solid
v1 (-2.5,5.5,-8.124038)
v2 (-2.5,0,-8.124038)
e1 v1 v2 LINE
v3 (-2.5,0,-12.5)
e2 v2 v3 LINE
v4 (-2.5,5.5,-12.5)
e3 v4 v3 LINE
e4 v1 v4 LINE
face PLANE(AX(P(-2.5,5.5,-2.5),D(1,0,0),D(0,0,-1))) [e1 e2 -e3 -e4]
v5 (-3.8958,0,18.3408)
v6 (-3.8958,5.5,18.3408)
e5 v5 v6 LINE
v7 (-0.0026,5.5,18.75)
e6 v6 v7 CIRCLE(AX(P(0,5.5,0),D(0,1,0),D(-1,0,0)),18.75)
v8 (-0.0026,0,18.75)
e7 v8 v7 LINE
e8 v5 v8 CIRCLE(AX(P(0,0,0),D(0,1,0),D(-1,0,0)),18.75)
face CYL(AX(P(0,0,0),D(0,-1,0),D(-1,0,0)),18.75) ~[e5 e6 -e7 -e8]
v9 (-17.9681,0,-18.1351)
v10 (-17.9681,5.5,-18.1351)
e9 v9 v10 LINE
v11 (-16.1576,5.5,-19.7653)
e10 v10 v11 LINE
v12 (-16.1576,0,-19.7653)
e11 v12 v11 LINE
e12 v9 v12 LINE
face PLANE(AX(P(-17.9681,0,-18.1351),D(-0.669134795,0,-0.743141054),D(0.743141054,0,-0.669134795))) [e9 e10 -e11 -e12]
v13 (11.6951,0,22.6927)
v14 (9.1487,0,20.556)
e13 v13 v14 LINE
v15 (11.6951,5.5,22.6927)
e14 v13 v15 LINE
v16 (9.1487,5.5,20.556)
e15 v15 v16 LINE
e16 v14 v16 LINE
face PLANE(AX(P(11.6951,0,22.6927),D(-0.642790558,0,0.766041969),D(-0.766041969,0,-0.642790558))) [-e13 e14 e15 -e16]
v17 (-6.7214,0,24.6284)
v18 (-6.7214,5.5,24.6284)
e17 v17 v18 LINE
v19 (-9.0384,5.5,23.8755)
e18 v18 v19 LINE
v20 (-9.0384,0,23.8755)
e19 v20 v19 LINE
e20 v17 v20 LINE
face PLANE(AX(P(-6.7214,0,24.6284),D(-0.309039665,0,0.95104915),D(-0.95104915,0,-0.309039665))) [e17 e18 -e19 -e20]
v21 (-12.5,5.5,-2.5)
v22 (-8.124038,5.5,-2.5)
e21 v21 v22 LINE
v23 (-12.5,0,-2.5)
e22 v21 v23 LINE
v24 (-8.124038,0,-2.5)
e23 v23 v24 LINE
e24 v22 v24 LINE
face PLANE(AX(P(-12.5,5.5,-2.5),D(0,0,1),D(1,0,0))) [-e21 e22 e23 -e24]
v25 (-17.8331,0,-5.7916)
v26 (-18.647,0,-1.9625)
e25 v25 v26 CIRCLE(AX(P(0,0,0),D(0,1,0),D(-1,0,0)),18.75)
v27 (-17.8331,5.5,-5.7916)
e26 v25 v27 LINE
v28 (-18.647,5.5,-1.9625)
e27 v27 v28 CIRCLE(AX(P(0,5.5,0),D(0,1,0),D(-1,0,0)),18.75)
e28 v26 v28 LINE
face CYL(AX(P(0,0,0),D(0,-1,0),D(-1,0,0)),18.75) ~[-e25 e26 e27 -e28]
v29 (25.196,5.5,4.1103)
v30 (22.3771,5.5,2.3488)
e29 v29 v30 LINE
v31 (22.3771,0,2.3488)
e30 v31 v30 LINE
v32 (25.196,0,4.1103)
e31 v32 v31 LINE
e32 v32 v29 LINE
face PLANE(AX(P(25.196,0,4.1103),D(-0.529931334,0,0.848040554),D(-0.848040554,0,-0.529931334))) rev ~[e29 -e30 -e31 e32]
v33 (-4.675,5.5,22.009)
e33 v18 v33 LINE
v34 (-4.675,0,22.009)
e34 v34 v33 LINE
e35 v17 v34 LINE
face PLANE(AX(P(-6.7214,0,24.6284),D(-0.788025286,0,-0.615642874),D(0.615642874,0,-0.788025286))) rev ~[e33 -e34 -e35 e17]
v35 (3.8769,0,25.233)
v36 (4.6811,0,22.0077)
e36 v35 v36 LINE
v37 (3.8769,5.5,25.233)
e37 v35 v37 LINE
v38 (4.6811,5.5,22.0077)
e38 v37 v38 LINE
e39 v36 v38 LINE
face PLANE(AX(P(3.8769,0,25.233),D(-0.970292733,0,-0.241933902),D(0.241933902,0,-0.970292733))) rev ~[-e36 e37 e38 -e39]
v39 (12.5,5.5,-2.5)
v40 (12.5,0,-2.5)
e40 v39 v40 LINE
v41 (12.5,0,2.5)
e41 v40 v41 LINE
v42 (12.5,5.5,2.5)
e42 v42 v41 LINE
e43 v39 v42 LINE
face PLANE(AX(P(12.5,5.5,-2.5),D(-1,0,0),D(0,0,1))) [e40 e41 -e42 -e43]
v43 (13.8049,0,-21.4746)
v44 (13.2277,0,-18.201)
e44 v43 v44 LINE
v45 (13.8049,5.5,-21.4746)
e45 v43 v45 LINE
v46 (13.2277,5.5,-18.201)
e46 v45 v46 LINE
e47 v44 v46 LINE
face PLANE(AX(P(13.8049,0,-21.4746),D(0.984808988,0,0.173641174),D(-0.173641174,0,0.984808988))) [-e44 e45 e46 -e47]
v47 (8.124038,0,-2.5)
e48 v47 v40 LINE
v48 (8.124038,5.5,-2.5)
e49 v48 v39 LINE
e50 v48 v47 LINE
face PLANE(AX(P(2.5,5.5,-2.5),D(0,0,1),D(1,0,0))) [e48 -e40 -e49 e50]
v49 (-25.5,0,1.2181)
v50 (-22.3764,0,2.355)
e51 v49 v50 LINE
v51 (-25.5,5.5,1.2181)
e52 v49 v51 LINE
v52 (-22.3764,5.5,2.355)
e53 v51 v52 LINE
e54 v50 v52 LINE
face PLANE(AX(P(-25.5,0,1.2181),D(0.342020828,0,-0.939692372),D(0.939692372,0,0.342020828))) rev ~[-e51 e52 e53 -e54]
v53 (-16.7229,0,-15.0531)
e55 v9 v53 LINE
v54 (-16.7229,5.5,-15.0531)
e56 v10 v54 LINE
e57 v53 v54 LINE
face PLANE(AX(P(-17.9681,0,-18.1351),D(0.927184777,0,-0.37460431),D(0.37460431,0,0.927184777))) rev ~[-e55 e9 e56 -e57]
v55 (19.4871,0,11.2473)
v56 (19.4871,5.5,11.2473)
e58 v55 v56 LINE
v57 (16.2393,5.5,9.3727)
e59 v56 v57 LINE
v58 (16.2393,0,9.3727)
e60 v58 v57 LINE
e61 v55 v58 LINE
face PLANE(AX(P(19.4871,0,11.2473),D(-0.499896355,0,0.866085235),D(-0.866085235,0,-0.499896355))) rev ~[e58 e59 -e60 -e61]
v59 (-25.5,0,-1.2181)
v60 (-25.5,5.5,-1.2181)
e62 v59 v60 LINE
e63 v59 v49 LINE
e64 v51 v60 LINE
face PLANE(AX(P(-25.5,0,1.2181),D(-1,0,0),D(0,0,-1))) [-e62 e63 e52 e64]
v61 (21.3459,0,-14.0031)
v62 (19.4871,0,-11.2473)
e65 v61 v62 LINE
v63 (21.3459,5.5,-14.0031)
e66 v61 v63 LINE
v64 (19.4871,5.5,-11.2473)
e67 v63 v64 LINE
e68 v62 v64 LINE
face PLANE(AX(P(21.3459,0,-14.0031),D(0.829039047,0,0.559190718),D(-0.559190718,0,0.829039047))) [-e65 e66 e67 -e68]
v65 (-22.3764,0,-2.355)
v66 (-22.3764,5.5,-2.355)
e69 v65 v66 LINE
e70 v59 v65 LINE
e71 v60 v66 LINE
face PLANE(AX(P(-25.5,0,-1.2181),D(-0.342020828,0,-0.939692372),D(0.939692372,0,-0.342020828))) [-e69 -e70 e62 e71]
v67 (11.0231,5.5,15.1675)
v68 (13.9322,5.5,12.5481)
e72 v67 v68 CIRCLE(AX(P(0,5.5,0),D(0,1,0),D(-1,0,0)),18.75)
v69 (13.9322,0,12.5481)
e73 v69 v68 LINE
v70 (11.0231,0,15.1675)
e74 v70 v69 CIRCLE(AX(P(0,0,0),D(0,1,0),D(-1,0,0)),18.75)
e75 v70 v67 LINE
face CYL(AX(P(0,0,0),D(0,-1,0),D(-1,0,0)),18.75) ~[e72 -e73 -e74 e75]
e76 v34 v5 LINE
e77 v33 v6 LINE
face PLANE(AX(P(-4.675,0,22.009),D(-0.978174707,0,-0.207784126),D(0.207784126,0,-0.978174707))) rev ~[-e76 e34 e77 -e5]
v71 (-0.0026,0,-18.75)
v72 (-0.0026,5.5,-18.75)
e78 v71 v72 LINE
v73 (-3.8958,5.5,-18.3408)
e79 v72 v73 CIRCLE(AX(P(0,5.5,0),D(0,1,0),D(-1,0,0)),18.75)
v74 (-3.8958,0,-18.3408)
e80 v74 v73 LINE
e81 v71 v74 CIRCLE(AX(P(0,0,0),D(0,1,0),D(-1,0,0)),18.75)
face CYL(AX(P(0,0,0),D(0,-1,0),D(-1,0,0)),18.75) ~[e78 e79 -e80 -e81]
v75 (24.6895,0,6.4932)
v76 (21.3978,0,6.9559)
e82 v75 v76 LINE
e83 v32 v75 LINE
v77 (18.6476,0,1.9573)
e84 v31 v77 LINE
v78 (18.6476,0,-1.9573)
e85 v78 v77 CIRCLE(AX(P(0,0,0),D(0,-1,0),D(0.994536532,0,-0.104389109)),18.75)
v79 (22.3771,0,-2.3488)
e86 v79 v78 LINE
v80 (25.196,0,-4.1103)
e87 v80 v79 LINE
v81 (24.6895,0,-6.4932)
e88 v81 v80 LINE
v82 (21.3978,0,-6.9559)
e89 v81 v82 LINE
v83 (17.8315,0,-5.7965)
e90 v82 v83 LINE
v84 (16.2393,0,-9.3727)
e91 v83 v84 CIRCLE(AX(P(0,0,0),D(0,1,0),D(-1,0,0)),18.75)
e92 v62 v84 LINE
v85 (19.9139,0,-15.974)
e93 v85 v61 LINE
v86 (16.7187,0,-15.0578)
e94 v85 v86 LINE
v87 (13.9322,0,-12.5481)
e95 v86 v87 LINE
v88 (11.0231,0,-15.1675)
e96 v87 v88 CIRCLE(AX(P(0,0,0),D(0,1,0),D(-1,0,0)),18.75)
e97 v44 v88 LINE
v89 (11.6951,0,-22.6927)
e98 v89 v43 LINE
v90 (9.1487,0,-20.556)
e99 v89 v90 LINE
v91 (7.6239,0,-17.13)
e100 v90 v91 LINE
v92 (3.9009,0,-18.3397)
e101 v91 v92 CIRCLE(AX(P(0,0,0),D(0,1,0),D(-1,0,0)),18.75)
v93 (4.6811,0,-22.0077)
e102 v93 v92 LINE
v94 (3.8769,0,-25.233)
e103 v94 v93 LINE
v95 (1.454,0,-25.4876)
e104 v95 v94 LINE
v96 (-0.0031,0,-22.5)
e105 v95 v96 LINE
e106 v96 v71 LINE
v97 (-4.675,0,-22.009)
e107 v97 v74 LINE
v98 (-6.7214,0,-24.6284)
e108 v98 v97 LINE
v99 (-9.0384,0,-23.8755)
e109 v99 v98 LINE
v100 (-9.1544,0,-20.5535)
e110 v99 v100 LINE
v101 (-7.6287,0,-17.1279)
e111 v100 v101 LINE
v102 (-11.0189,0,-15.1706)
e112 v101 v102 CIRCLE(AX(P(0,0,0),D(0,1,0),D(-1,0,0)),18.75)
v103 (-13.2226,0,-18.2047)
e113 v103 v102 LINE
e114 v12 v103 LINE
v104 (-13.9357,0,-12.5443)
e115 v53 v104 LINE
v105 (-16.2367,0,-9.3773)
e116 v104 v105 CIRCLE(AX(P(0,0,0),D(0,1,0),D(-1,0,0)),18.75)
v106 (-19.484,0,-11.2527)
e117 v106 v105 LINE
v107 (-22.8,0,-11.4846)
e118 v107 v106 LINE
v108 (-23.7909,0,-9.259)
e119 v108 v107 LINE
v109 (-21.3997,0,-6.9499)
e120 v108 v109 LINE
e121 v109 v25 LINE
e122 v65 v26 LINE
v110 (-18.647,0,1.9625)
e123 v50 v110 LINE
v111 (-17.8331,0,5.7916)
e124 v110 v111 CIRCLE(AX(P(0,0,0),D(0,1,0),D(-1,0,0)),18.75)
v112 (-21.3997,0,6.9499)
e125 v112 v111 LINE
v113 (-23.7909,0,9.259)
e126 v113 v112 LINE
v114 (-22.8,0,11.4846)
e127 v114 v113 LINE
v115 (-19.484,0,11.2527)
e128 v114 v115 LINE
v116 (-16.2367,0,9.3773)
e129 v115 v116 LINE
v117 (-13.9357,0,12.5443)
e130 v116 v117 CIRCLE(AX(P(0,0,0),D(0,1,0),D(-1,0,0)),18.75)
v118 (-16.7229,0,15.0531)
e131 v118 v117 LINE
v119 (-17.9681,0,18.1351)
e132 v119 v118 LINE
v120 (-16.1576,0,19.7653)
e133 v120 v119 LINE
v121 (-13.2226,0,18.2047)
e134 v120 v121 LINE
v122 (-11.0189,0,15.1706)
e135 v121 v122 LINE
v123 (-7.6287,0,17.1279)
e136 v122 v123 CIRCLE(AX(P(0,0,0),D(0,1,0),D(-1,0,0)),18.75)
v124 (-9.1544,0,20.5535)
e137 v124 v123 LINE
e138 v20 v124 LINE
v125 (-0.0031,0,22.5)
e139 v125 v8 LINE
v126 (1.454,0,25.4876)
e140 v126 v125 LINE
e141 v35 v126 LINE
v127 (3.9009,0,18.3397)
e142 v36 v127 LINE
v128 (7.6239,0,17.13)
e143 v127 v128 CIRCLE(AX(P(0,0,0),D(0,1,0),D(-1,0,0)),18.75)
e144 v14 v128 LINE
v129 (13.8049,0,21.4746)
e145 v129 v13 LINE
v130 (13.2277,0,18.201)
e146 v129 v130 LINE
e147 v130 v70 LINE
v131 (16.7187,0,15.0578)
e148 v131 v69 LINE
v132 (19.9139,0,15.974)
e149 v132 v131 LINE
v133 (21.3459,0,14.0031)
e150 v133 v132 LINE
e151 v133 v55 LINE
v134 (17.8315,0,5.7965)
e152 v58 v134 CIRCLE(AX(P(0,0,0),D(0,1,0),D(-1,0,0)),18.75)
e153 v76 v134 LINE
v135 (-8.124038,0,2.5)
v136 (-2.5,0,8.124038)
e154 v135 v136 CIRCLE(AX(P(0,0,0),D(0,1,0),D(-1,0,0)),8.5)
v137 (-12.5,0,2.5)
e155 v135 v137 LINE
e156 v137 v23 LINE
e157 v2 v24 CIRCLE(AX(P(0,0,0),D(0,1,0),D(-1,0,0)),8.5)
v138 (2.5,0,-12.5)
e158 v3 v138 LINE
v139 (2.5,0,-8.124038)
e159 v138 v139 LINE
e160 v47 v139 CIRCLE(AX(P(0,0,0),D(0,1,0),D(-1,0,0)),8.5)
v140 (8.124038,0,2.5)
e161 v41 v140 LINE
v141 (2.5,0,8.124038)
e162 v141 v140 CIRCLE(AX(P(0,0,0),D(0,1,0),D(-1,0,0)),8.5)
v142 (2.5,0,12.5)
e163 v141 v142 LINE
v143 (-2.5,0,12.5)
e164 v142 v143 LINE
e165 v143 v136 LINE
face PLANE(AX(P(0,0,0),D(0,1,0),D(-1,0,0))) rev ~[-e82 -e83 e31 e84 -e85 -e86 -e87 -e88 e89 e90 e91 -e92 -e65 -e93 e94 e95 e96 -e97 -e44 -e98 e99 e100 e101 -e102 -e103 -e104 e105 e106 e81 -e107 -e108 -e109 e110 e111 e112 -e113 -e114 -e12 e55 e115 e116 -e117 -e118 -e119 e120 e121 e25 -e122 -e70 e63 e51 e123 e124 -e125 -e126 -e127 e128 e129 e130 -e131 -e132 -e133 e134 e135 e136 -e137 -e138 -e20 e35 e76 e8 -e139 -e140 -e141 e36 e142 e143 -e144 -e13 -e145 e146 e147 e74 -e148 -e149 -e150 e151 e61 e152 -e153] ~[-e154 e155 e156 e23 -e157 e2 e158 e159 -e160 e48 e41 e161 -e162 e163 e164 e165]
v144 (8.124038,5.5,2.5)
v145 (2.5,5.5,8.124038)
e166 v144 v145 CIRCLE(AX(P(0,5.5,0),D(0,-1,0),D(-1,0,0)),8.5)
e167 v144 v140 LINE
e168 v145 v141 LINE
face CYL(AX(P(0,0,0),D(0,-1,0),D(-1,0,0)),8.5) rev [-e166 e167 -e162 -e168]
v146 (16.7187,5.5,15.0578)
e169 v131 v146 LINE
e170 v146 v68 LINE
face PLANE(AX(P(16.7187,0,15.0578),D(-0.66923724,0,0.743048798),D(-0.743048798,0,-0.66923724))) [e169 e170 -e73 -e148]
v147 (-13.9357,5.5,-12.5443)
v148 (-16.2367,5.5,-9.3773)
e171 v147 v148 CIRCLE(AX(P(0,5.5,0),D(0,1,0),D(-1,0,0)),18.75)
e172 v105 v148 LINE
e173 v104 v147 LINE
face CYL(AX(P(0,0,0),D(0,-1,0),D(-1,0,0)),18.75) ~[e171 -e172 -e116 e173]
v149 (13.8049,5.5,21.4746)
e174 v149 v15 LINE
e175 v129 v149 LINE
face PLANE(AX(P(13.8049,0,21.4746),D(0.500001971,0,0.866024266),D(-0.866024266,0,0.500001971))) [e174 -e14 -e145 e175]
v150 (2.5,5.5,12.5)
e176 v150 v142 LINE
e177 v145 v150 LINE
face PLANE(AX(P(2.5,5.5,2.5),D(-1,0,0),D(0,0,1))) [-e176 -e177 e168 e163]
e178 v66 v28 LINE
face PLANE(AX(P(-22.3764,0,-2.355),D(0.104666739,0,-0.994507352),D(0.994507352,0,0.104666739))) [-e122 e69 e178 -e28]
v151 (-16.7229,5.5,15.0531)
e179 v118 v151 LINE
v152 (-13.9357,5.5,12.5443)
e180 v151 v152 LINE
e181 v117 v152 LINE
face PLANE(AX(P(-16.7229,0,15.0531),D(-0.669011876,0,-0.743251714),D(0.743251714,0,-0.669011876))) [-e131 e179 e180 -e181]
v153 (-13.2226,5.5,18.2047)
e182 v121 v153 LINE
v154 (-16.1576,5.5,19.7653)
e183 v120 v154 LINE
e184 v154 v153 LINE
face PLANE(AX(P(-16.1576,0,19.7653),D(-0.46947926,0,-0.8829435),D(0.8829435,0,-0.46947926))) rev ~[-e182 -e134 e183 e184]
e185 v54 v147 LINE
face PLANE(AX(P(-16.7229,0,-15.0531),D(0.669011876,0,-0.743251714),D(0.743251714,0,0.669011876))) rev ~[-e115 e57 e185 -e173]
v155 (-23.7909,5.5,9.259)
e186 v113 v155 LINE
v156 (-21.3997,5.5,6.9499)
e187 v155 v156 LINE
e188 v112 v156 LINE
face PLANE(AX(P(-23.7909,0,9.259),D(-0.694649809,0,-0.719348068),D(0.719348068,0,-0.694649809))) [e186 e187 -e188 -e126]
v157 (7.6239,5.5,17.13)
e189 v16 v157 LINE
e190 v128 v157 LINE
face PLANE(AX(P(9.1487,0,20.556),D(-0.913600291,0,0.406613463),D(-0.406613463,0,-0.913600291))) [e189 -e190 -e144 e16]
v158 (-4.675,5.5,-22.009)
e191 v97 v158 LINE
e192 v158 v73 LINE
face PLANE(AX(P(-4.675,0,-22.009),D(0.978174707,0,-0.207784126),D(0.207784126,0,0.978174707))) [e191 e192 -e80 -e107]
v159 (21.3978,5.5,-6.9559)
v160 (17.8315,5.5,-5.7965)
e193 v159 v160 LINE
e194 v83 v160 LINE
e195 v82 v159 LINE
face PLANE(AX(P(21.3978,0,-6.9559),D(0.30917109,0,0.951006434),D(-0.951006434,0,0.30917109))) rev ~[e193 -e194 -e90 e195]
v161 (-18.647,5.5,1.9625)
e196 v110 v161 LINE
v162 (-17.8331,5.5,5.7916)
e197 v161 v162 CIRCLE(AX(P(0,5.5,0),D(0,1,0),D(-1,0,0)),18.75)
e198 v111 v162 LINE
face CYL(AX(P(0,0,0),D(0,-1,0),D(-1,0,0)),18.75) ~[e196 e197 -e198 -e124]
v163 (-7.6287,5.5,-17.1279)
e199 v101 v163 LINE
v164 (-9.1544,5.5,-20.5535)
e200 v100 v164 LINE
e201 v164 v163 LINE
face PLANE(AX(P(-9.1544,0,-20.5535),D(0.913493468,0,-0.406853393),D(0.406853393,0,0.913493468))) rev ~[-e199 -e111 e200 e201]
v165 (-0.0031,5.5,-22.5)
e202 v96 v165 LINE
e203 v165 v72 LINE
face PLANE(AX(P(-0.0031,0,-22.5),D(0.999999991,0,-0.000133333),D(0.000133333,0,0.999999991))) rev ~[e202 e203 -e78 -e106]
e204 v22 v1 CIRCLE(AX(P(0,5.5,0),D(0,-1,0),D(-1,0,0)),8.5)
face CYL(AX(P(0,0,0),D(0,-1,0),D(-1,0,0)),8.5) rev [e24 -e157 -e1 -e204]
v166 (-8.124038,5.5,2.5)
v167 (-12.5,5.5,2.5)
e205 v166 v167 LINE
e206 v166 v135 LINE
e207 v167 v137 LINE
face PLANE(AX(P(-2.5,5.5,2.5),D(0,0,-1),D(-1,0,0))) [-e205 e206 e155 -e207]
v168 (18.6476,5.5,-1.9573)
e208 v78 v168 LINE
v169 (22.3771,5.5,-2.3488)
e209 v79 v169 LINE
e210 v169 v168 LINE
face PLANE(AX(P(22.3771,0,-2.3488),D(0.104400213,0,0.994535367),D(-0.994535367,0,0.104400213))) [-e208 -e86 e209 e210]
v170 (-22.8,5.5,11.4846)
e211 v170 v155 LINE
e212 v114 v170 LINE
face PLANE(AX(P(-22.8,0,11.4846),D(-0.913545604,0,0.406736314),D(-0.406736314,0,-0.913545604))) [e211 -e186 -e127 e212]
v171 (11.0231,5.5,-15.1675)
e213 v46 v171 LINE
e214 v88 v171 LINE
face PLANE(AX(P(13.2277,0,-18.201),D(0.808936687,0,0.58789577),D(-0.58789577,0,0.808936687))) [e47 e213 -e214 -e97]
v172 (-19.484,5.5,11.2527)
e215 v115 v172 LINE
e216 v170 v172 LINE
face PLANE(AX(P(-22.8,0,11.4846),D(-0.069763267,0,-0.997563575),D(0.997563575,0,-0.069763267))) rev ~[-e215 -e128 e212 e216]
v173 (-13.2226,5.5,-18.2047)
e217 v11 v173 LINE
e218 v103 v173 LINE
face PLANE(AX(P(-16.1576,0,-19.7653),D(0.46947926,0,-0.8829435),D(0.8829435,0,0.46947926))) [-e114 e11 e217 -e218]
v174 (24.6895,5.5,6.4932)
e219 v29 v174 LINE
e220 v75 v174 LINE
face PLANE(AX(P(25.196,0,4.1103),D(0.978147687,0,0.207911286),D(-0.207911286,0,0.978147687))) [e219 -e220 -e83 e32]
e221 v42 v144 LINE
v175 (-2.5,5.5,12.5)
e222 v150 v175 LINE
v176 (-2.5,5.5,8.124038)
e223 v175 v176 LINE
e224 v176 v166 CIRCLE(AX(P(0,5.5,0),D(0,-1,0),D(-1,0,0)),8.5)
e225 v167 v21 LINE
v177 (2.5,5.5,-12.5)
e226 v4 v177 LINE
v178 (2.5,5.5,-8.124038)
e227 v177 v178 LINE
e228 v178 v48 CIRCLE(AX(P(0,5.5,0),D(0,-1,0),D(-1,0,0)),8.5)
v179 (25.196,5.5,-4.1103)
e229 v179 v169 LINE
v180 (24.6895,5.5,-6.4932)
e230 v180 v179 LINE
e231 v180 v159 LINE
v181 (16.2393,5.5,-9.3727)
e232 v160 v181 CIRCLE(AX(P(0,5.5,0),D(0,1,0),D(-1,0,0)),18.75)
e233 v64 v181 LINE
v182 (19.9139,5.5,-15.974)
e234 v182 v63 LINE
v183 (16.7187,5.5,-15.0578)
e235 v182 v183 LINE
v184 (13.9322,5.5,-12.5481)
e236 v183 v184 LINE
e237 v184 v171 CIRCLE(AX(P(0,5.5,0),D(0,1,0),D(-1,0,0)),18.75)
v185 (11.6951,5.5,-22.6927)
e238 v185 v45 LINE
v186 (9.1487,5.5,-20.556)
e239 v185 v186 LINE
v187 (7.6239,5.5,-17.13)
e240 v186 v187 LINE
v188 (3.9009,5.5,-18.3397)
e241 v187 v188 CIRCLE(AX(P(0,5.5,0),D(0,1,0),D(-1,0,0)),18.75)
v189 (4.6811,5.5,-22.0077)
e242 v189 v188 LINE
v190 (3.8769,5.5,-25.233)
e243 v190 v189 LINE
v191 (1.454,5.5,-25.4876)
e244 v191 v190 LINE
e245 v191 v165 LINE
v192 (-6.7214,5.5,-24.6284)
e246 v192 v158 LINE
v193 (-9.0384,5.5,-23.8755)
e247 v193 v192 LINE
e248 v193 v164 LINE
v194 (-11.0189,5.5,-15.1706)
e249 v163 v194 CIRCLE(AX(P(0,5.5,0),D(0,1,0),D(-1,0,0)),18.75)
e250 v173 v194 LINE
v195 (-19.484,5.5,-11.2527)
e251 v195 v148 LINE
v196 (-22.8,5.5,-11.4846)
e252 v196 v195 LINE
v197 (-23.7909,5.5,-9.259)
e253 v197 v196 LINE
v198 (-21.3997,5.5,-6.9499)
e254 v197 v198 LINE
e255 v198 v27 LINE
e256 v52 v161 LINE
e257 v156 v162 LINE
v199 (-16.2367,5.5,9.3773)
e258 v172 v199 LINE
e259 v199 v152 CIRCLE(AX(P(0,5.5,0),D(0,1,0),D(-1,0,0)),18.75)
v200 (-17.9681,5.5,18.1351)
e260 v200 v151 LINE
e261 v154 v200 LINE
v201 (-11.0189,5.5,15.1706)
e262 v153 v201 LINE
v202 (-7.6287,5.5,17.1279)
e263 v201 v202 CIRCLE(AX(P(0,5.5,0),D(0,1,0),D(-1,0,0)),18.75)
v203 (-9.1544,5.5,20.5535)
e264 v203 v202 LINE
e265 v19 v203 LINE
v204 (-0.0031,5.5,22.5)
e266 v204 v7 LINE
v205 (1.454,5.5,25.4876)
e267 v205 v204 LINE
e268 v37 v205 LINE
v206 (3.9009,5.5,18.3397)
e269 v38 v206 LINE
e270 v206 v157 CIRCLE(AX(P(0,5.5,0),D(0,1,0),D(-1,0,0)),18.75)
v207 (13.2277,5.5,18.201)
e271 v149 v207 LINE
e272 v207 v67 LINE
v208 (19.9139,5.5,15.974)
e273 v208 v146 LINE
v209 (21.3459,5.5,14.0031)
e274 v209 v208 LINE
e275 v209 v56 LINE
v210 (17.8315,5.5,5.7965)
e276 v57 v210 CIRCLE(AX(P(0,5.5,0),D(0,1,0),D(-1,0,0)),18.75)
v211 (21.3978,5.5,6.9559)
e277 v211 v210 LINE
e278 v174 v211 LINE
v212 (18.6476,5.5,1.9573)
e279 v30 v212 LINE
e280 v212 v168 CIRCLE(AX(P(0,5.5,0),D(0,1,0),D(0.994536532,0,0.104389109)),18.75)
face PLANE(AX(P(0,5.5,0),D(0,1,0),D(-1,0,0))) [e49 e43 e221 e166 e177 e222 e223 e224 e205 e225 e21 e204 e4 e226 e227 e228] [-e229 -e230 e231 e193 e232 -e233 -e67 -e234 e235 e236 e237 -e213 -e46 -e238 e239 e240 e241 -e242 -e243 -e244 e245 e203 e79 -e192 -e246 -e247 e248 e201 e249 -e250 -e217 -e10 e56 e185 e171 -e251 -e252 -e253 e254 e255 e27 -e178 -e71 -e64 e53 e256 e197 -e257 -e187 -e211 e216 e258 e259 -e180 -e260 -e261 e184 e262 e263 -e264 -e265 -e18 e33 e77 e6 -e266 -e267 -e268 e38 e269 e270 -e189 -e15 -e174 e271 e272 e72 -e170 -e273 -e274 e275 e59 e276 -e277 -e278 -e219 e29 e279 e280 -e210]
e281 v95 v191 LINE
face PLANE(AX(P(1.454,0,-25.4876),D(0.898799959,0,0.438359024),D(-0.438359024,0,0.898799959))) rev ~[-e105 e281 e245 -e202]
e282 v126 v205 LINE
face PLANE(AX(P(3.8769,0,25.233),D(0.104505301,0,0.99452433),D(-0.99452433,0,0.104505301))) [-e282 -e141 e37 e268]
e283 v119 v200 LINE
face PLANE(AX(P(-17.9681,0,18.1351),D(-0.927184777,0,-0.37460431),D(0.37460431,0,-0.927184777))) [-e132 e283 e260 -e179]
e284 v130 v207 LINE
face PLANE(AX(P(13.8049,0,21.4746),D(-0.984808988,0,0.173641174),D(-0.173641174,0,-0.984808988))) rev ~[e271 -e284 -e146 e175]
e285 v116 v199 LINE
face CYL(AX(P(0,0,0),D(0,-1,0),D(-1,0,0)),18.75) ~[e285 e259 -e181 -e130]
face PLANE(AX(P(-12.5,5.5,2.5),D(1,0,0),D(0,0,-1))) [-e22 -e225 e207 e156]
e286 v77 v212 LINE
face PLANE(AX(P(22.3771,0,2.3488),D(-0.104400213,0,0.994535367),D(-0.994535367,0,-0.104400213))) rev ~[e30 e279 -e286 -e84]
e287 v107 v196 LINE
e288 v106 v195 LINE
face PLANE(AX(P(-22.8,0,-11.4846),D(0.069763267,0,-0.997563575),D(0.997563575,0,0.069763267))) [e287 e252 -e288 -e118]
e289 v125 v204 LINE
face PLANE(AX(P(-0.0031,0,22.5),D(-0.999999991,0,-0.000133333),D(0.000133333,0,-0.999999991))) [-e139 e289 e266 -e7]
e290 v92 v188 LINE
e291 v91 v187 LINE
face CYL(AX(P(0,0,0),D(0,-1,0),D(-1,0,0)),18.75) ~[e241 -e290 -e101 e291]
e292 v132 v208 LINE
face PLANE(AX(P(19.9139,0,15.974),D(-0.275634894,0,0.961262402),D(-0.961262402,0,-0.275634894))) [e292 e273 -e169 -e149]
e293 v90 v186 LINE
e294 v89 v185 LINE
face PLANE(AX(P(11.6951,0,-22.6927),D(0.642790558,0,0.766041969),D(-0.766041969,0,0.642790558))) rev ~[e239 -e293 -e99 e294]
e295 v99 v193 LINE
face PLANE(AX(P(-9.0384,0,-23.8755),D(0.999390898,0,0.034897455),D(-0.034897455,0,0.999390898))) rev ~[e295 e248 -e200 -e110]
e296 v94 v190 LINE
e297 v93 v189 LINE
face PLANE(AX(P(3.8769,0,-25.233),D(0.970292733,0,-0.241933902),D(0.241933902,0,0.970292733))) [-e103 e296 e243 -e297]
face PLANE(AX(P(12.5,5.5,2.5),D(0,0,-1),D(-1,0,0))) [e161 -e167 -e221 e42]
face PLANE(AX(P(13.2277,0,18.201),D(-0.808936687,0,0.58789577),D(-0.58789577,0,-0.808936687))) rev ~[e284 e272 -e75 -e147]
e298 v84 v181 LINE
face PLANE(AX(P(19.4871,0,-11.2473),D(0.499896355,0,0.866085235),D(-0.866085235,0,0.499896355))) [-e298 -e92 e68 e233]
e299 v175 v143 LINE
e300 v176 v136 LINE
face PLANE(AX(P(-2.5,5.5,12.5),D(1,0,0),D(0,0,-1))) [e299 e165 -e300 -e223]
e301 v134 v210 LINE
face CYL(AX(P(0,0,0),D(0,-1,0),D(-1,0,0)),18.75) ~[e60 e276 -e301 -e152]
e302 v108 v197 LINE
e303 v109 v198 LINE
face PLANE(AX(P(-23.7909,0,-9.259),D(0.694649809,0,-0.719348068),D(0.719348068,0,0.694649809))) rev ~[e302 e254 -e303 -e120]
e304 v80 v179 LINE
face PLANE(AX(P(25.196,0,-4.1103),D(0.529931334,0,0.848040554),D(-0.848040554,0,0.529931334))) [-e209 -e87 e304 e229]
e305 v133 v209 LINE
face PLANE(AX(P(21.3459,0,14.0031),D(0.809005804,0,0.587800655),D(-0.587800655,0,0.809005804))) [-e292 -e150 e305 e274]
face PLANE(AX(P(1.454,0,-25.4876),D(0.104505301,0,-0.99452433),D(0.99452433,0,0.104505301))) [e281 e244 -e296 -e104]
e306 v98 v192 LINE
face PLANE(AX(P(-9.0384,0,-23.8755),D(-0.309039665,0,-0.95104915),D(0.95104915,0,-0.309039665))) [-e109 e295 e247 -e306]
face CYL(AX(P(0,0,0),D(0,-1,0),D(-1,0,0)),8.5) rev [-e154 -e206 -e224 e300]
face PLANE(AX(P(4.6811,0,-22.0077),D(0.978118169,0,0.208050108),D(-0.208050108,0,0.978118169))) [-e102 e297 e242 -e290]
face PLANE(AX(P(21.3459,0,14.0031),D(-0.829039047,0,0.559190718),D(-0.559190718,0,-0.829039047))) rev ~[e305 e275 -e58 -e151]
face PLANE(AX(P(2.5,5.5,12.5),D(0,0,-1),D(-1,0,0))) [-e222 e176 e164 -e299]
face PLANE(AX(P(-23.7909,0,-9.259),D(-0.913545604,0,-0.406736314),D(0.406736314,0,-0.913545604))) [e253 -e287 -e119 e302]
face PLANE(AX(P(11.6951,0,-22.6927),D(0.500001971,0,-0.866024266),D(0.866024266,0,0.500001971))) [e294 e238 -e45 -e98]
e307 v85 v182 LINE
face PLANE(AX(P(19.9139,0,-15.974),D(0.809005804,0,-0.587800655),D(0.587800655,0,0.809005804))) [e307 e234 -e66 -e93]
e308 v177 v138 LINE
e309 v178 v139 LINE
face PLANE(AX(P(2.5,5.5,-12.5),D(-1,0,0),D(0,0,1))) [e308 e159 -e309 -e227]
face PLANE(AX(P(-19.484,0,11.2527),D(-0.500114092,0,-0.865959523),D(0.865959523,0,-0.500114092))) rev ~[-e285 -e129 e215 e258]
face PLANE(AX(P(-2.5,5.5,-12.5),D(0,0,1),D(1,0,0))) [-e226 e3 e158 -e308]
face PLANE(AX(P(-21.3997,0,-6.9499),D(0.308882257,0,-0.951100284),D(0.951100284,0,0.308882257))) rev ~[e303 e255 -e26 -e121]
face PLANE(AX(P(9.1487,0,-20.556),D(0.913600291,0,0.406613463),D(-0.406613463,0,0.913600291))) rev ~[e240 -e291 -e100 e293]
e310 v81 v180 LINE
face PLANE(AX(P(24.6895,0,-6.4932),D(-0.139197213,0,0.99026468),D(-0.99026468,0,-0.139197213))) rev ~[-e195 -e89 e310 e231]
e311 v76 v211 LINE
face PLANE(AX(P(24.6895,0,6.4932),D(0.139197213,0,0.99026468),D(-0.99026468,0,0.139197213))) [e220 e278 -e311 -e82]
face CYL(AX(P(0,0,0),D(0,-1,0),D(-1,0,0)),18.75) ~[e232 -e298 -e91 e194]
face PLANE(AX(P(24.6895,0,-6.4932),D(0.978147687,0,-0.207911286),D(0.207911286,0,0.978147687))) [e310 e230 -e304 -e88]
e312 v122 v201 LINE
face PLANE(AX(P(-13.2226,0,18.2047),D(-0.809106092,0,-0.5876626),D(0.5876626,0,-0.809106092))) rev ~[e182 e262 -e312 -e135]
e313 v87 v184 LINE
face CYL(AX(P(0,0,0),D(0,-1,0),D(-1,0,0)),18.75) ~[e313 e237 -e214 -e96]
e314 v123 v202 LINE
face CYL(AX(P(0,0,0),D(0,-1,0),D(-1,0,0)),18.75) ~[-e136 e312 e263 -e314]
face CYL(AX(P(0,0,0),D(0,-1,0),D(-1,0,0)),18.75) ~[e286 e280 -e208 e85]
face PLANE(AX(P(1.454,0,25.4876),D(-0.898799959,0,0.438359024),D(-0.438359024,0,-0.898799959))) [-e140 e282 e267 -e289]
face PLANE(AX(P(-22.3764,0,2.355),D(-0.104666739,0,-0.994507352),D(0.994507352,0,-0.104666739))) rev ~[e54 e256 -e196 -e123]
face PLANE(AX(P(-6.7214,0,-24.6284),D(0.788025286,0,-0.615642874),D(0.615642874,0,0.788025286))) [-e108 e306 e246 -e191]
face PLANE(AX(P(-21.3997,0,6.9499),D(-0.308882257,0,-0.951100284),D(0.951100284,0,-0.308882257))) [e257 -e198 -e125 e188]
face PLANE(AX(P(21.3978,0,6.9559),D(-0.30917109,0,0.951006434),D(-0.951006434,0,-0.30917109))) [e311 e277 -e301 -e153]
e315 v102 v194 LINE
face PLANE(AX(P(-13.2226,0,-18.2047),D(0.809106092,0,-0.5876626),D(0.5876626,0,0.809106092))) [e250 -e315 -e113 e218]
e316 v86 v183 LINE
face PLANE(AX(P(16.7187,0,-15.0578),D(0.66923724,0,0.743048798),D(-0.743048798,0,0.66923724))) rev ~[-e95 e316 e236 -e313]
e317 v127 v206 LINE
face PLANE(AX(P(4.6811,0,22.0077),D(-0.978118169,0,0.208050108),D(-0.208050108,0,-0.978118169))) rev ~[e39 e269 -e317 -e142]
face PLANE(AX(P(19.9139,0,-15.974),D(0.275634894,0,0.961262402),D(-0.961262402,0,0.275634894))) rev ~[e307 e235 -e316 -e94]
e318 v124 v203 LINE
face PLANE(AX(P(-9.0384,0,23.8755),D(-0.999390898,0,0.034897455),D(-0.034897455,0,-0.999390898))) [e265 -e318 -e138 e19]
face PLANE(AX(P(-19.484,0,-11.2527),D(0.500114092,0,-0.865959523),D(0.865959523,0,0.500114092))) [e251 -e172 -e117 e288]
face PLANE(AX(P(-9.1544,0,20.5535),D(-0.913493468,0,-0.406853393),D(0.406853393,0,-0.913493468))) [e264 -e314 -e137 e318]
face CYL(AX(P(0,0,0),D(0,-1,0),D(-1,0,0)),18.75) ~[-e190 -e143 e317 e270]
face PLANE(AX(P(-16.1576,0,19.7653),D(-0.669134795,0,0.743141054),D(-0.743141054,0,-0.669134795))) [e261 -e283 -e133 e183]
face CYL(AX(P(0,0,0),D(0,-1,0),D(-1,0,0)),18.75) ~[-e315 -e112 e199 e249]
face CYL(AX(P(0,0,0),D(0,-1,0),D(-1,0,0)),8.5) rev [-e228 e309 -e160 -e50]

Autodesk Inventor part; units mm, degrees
ref_plane "YZ Plane" through (0, 0, 0) normal (1, 0, 0) x (0, 1, 0)
ref_plane "XZ Plane" through (0, 0, 0) normal (0, 1, 0) x (-1, 0, 0)
ref_plane "XY Plane" through (0, 0, 0) normal (0, 0, 1) x (1, 0, 0)
sketch "スケッチ1" plane through (0, 0, 0) normal (0, 1, 0) x (-1, 0, 0)
  circle A0 centre (0, 0) radius 22.5 construction
  circle A1 centre (0, 0) radius 25.5 construction
  line L0 (25.5, 1.2181) -> (25.5, -1.2181)
  line L1 (25.5, 1.2181) -> (22.3764, 2.355)
  line L2 (25.5, -1.2181) -> (22.3764, -2.355)
  line L3 (35.7, 0) -> (-35.7, 0) projected
  circle A2 centre (0, 0) radius 18.75
  line L4 (22.3764, -2.355) -> (18.647, -1.9625)
  line L5 (22.3764, 2.355) -> (18.647, 1.9625)
  line L6 (19.484, 11.2527) -> (16.2367, 9.3773)
  line L7 (22.8, 11.4846) -> (19.484, 11.2527)
  line L8 (22.8, 11.4846) -> (23.7909, 9.259)
  line L9 (23.7909, 9.259) -> (21.3997, 6.9499)
  line L10 (21.3997, 6.9499) -> (17.8331, 5.7916)
  line L11 (13.2226, 18.2047) -> (11.0189, 15.1706)
  line L12 (16.1576, 19.7653) -> (13.2226, 18.2047)
  line L13 (16.1576, 19.7653) -> (17.9681, 18.1351)
  line L14 (17.9681, 18.1351) -> (16.7229, 15.0531)
  line L15 (16.7229, 15.0531) -> (13.9357, 12.5443)
  line L16 (4.675, 22.009) -> (3.8958, 18.3408)
  line L17 (6.7214, 24.6284) -> (4.675, 22.009)
  line L18 (6.7214, 24.6284) -> (9.0384, 23.8755)
  line L19 (9.0384, 23.8755) -> (9.1544, 20.5535)
  line L20 (9.1544, 20.5535) -> (7.6287, 17.1279)
  line L21 (-4.6811, 22.0077) -> (-3.9009, 18.3397)
  line L22 (-3.8769, 25.233) -> (-4.6811, 22.0077)
  line L23 (-3.8769, 25.233) -> (-1.454, 25.4876)
  line L24 (-1.454, 25.4876) -> (0.0031, 22.5)
  line L25 (0.0031, 22.5) -> (0.0026, 18.75)
  line L26 (-13.2277, 18.201) -> (-11.0231, 15.1675)
  line L27 (-13.8049, 21.4746) -> (-13.2277, 18.201)
  line L28 (-13.8049, 21.4746) -> (-11.6951, 22.6927)
  line L29 (-11.6951, 22.6927) -> (-9.1487, 20.556)
  line L30 (-9.1487, 20.556) -> (-7.6239, 17.13)
  line L31 (-19.4871, 11.2473) -> (-16.2393, 9.3727)
  line L32 (-21.3459, 14.0031) -> (-19.4871, 11.2473)
  line L33 (-21.3459, 14.0031) -> (-19.9139, 15.974)
  line L34 (-19.9139, 15.974) -> (-16.7187, 15.0578)
  line L35 (-16.7187, 15.0578) -> (-13.9322, 12.5481)
  line L36 (-22.3771, 2.3488) -> (-18.6476, 1.9573)
  line L37 (-25.196, 4.1103) -> (-22.3771, 2.3488)
  line L38 (-25.196, 4.1103) -> (-24.6895, 6.4932)
  line L39 (-24.6895, 6.4932) -> (-21.3978, 6.9559)
  line L40 (-21.3978, 6.9559) -> (-17.8315, 5.7965)
  line L41 (-21.3978, -6.9559) -> (-17.8315, -5.7965)
  line L42 (-24.6895, -6.4932) -> (-21.3978, -6.9559)
  line L43 (-24.6895, -6.4932) -> (-25.196, -4.1103)
  line L44 (-25.196, -4.1103) -> (-22.3771, -2.3488)
  line L45 (-22.3771, -2.3488) -> (-18.6476, -1.9573)
  line L46 (-16.7187, -15.0578) -> (-13.9322, -12.5481)
  line L47 (-19.9139, -15.974) -> (-16.7187, -15.0578)
  line L48 (-19.9139, -15.974) -> (-21.3459, -14.0031)
  line L49 (-21.3459, -14.0031) -> (-19.4871, -11.2473)
  line L50 (-19.4871, -11.2473) -> (-16.2393, -9.3727)
  line L51 (-9.1487, -20.556) -> (-7.6239, -17.13)
  line L52 (-11.6951, -22.6927) -> (-9.1487, -20.556)
  line L53 (-11.6951, -22.6927) -> (-13.8049, -21.4746)
  line L54 (-13.8049, -21.4746) -> (-13.2277, -18.201)
  line L55 (-13.2277, -18.201) -> (-11.0231, -15.1675)
  line L56 (0.0031, -22.5) -> (0.0026, -18.75)
  line L57 (-1.454, -25.4876) -> (0.0031, -22.5)
  line L58 (-1.454, -25.4876) -> (-3.8769, -25.233)
  line L59 (-3.8769, -25.233) -> (-4.6811, -22.0077)
  line L60 (-4.6811, -22.0077) -> (-3.9009, -18.3397)
  line L61 (9.1544, -20.5535) -> (7.6287, -17.1279)
  line L62 (9.0384, -23.8755) -> (9.1544, -20.5535)
  line L63 (9.0384, -23.8755) -> (6.7214, -24.6284)
  line L64 (6.7214, -24.6284) -> (4.675, -22.009)
  line L65 (4.675, -22.009) -> (3.8958, -18.3408)
  line L66 (16.7229, -15.0531) -> (13.9357, -12.5443)
  line L67 (17.9681, -18.1351) -> (16.7229, -15.0531)
  line L68 (17.9681, -18.1351) -> (16.1576, -19.7653)
  line L69 (16.1576, -19.7653) -> (13.2226, -18.2047)
  line L70 (13.2226, -18.2047) -> (11.0189, -15.1706)
  line L71 (21.3997, -6.9499) -> (17.8331, -5.7916)
  line L72 (23.7909, -9.259) -> (21.3997, -6.9499)
  line L73 (23.7909, -9.259) -> (22.8, -11.4846)
  line L74 (22.8, -11.4846) -> (19.484, -11.2527)
  line L75 (19.484, -11.2527) -> (16.2367, -9.3773)
  circle A3 centre (0, 0) radius 8.5
  point P0 (25.5, 0)
  point P1 (23.2954, 10.3718)
  point P2 (17.0628, 18.9502)
  point P3 (7.8799, 24.2519)
  point P4 (-2.6655, 25.3603)
  point P5 (-12.75, 22.0836)
  point P6 (-20.6299, 14.9885)
  point P7 (-24.9428, 5.3017)
  point P8 (-24.9428, -5.3017)
  point P9 (-20.6299, -14.9885)
  point P10 (-12.75, -22.0836)
  point P11 (-2.6655, -25.3603)
  point P12 (7.8799, -24.2519)
  point P13 (17.0628, -18.9502)
  point P14 (23.2954, -10.3718)
  point P15 (17.8331, 5.7916)
  point P16 (16.2367, 9.3773)
  point P17 (13.9357, 12.5443)
  point P18 (11.0189, 15.1706)
  point P19 (7.6287, 17.1279)
  point P20 (3.8958, 18.3408)
  point P21 (0.0026, 18.75)
  point P22 (-3.9009, 18.3397)
  point P23 (-7.6239, 17.13)
  point P24 (-11.0231, 15.1675)
  point P25 (-13.9322, 12.5481)
  point P26 (-16.2393, 9.3727)
  point P27 (-17.8315, 5.7965)
  point P28 (-18.6476, 1.9573)
  point P29 (-18.6476, -1.9573)
  point P30 (-17.8315, -5.7965)
  point P31 (-16.2393, -9.3727)
  point P32 (-13.9322, -12.5481)
  point P33 (-11.0231, -15.1675)
  point P34 (-7.6239, -17.13)
  point P35 (-3.9009, -18.3397)
  point P36 (0.0026, -18.75)
  point P37 (3.8958, -18.3408)
  point P38 (7.6287, -17.1279)
  point P39 (11.0189, -15.1706)
  point P40 (13.9357, -12.5443)
  point P41 (16.2367, -9.3773)
  point P42 (17.8331, -5.7916)
  dimension "d5" = 37.5
  dimension "d0" = 45
  dimension "d1" = 51
  dimension "d3" = 20
  dimension "d4" = 20
  dimension "d14" = 4.71
  dimension "d18" = 360
  dimension "d23" = 17
extrude "押し出し1" add sketch "スケッチ1" along normal blind 5.5 contours L0 L3 A2 L5 L1 | L0 L2 L4 A2 L3 | A2 L3 A3 | L3 A3 A2 | A2 L6 L7 L8 L9 L10 | L71 L72 L73 L74 L75 A2 | A2 L11 L12 L13 L14 L15 | L36 L37 L38 L39 L40 A2 | A2 L41 L42 L43 L44 L45 | L66 L67 L68 L69 L70 A2 | A2 L16 L17 L18 L19 L20 | L31 L32 L33 L34 L35 A2 | A2 L46 L47 L48 L49 L50 | L61 L62 L63 L64 L65 A2 | A2 L21 L22 L23 L24 L25 | L26 L27 L28 L29 L30 A2 | A2 L51 L52 L53 L54 L55 | L56 L57 L58 L59 L60 A2
sketch "スケッチ2" plane through (0, 5.5, 0) normal (0, 1, 0) x (1, 0, 0)
  line L0 (-2.5, 12.5) -> (2.5, 12.5)
  line L1 (2.5, 12.5) -> (2.5, -12.5)
  line L2 (2.5, -12.5) -> (-2.5, -12.5)
  line L3 (-2.5, -12.5) -> (-2.5, 12.5)
  line L4 (-12.5, 2.5) -> (12.5, 2.5)
  line L5 (12.5, 2.5) -> (12.5, -2.5)
  line L6 (12.5, -2.5) -> (-12.5, -2.5)
  line L7 (-12.5, -2.5) -> (-12.5, 2.5)
  point P0 (0, 0)
  point P1 (0, 12.5)
  point P2 (-12.5, 0)
  point P3 (0, 2.5)
  point P4 (2.5, 0)
  point P5 (-2.5, -2.5)
  point P6 (2.5, -2.5)
  point P7 (2.5, 2.5)
  point P8 (-2.5, 2.5)
  dimension "d24" = 5
  dimension "d25" = 25
extrude "押し出し2" cut sketch "スケッチ2" against normal through all
properties part number "M3_15_input" material "木材 (カエデ材)"
